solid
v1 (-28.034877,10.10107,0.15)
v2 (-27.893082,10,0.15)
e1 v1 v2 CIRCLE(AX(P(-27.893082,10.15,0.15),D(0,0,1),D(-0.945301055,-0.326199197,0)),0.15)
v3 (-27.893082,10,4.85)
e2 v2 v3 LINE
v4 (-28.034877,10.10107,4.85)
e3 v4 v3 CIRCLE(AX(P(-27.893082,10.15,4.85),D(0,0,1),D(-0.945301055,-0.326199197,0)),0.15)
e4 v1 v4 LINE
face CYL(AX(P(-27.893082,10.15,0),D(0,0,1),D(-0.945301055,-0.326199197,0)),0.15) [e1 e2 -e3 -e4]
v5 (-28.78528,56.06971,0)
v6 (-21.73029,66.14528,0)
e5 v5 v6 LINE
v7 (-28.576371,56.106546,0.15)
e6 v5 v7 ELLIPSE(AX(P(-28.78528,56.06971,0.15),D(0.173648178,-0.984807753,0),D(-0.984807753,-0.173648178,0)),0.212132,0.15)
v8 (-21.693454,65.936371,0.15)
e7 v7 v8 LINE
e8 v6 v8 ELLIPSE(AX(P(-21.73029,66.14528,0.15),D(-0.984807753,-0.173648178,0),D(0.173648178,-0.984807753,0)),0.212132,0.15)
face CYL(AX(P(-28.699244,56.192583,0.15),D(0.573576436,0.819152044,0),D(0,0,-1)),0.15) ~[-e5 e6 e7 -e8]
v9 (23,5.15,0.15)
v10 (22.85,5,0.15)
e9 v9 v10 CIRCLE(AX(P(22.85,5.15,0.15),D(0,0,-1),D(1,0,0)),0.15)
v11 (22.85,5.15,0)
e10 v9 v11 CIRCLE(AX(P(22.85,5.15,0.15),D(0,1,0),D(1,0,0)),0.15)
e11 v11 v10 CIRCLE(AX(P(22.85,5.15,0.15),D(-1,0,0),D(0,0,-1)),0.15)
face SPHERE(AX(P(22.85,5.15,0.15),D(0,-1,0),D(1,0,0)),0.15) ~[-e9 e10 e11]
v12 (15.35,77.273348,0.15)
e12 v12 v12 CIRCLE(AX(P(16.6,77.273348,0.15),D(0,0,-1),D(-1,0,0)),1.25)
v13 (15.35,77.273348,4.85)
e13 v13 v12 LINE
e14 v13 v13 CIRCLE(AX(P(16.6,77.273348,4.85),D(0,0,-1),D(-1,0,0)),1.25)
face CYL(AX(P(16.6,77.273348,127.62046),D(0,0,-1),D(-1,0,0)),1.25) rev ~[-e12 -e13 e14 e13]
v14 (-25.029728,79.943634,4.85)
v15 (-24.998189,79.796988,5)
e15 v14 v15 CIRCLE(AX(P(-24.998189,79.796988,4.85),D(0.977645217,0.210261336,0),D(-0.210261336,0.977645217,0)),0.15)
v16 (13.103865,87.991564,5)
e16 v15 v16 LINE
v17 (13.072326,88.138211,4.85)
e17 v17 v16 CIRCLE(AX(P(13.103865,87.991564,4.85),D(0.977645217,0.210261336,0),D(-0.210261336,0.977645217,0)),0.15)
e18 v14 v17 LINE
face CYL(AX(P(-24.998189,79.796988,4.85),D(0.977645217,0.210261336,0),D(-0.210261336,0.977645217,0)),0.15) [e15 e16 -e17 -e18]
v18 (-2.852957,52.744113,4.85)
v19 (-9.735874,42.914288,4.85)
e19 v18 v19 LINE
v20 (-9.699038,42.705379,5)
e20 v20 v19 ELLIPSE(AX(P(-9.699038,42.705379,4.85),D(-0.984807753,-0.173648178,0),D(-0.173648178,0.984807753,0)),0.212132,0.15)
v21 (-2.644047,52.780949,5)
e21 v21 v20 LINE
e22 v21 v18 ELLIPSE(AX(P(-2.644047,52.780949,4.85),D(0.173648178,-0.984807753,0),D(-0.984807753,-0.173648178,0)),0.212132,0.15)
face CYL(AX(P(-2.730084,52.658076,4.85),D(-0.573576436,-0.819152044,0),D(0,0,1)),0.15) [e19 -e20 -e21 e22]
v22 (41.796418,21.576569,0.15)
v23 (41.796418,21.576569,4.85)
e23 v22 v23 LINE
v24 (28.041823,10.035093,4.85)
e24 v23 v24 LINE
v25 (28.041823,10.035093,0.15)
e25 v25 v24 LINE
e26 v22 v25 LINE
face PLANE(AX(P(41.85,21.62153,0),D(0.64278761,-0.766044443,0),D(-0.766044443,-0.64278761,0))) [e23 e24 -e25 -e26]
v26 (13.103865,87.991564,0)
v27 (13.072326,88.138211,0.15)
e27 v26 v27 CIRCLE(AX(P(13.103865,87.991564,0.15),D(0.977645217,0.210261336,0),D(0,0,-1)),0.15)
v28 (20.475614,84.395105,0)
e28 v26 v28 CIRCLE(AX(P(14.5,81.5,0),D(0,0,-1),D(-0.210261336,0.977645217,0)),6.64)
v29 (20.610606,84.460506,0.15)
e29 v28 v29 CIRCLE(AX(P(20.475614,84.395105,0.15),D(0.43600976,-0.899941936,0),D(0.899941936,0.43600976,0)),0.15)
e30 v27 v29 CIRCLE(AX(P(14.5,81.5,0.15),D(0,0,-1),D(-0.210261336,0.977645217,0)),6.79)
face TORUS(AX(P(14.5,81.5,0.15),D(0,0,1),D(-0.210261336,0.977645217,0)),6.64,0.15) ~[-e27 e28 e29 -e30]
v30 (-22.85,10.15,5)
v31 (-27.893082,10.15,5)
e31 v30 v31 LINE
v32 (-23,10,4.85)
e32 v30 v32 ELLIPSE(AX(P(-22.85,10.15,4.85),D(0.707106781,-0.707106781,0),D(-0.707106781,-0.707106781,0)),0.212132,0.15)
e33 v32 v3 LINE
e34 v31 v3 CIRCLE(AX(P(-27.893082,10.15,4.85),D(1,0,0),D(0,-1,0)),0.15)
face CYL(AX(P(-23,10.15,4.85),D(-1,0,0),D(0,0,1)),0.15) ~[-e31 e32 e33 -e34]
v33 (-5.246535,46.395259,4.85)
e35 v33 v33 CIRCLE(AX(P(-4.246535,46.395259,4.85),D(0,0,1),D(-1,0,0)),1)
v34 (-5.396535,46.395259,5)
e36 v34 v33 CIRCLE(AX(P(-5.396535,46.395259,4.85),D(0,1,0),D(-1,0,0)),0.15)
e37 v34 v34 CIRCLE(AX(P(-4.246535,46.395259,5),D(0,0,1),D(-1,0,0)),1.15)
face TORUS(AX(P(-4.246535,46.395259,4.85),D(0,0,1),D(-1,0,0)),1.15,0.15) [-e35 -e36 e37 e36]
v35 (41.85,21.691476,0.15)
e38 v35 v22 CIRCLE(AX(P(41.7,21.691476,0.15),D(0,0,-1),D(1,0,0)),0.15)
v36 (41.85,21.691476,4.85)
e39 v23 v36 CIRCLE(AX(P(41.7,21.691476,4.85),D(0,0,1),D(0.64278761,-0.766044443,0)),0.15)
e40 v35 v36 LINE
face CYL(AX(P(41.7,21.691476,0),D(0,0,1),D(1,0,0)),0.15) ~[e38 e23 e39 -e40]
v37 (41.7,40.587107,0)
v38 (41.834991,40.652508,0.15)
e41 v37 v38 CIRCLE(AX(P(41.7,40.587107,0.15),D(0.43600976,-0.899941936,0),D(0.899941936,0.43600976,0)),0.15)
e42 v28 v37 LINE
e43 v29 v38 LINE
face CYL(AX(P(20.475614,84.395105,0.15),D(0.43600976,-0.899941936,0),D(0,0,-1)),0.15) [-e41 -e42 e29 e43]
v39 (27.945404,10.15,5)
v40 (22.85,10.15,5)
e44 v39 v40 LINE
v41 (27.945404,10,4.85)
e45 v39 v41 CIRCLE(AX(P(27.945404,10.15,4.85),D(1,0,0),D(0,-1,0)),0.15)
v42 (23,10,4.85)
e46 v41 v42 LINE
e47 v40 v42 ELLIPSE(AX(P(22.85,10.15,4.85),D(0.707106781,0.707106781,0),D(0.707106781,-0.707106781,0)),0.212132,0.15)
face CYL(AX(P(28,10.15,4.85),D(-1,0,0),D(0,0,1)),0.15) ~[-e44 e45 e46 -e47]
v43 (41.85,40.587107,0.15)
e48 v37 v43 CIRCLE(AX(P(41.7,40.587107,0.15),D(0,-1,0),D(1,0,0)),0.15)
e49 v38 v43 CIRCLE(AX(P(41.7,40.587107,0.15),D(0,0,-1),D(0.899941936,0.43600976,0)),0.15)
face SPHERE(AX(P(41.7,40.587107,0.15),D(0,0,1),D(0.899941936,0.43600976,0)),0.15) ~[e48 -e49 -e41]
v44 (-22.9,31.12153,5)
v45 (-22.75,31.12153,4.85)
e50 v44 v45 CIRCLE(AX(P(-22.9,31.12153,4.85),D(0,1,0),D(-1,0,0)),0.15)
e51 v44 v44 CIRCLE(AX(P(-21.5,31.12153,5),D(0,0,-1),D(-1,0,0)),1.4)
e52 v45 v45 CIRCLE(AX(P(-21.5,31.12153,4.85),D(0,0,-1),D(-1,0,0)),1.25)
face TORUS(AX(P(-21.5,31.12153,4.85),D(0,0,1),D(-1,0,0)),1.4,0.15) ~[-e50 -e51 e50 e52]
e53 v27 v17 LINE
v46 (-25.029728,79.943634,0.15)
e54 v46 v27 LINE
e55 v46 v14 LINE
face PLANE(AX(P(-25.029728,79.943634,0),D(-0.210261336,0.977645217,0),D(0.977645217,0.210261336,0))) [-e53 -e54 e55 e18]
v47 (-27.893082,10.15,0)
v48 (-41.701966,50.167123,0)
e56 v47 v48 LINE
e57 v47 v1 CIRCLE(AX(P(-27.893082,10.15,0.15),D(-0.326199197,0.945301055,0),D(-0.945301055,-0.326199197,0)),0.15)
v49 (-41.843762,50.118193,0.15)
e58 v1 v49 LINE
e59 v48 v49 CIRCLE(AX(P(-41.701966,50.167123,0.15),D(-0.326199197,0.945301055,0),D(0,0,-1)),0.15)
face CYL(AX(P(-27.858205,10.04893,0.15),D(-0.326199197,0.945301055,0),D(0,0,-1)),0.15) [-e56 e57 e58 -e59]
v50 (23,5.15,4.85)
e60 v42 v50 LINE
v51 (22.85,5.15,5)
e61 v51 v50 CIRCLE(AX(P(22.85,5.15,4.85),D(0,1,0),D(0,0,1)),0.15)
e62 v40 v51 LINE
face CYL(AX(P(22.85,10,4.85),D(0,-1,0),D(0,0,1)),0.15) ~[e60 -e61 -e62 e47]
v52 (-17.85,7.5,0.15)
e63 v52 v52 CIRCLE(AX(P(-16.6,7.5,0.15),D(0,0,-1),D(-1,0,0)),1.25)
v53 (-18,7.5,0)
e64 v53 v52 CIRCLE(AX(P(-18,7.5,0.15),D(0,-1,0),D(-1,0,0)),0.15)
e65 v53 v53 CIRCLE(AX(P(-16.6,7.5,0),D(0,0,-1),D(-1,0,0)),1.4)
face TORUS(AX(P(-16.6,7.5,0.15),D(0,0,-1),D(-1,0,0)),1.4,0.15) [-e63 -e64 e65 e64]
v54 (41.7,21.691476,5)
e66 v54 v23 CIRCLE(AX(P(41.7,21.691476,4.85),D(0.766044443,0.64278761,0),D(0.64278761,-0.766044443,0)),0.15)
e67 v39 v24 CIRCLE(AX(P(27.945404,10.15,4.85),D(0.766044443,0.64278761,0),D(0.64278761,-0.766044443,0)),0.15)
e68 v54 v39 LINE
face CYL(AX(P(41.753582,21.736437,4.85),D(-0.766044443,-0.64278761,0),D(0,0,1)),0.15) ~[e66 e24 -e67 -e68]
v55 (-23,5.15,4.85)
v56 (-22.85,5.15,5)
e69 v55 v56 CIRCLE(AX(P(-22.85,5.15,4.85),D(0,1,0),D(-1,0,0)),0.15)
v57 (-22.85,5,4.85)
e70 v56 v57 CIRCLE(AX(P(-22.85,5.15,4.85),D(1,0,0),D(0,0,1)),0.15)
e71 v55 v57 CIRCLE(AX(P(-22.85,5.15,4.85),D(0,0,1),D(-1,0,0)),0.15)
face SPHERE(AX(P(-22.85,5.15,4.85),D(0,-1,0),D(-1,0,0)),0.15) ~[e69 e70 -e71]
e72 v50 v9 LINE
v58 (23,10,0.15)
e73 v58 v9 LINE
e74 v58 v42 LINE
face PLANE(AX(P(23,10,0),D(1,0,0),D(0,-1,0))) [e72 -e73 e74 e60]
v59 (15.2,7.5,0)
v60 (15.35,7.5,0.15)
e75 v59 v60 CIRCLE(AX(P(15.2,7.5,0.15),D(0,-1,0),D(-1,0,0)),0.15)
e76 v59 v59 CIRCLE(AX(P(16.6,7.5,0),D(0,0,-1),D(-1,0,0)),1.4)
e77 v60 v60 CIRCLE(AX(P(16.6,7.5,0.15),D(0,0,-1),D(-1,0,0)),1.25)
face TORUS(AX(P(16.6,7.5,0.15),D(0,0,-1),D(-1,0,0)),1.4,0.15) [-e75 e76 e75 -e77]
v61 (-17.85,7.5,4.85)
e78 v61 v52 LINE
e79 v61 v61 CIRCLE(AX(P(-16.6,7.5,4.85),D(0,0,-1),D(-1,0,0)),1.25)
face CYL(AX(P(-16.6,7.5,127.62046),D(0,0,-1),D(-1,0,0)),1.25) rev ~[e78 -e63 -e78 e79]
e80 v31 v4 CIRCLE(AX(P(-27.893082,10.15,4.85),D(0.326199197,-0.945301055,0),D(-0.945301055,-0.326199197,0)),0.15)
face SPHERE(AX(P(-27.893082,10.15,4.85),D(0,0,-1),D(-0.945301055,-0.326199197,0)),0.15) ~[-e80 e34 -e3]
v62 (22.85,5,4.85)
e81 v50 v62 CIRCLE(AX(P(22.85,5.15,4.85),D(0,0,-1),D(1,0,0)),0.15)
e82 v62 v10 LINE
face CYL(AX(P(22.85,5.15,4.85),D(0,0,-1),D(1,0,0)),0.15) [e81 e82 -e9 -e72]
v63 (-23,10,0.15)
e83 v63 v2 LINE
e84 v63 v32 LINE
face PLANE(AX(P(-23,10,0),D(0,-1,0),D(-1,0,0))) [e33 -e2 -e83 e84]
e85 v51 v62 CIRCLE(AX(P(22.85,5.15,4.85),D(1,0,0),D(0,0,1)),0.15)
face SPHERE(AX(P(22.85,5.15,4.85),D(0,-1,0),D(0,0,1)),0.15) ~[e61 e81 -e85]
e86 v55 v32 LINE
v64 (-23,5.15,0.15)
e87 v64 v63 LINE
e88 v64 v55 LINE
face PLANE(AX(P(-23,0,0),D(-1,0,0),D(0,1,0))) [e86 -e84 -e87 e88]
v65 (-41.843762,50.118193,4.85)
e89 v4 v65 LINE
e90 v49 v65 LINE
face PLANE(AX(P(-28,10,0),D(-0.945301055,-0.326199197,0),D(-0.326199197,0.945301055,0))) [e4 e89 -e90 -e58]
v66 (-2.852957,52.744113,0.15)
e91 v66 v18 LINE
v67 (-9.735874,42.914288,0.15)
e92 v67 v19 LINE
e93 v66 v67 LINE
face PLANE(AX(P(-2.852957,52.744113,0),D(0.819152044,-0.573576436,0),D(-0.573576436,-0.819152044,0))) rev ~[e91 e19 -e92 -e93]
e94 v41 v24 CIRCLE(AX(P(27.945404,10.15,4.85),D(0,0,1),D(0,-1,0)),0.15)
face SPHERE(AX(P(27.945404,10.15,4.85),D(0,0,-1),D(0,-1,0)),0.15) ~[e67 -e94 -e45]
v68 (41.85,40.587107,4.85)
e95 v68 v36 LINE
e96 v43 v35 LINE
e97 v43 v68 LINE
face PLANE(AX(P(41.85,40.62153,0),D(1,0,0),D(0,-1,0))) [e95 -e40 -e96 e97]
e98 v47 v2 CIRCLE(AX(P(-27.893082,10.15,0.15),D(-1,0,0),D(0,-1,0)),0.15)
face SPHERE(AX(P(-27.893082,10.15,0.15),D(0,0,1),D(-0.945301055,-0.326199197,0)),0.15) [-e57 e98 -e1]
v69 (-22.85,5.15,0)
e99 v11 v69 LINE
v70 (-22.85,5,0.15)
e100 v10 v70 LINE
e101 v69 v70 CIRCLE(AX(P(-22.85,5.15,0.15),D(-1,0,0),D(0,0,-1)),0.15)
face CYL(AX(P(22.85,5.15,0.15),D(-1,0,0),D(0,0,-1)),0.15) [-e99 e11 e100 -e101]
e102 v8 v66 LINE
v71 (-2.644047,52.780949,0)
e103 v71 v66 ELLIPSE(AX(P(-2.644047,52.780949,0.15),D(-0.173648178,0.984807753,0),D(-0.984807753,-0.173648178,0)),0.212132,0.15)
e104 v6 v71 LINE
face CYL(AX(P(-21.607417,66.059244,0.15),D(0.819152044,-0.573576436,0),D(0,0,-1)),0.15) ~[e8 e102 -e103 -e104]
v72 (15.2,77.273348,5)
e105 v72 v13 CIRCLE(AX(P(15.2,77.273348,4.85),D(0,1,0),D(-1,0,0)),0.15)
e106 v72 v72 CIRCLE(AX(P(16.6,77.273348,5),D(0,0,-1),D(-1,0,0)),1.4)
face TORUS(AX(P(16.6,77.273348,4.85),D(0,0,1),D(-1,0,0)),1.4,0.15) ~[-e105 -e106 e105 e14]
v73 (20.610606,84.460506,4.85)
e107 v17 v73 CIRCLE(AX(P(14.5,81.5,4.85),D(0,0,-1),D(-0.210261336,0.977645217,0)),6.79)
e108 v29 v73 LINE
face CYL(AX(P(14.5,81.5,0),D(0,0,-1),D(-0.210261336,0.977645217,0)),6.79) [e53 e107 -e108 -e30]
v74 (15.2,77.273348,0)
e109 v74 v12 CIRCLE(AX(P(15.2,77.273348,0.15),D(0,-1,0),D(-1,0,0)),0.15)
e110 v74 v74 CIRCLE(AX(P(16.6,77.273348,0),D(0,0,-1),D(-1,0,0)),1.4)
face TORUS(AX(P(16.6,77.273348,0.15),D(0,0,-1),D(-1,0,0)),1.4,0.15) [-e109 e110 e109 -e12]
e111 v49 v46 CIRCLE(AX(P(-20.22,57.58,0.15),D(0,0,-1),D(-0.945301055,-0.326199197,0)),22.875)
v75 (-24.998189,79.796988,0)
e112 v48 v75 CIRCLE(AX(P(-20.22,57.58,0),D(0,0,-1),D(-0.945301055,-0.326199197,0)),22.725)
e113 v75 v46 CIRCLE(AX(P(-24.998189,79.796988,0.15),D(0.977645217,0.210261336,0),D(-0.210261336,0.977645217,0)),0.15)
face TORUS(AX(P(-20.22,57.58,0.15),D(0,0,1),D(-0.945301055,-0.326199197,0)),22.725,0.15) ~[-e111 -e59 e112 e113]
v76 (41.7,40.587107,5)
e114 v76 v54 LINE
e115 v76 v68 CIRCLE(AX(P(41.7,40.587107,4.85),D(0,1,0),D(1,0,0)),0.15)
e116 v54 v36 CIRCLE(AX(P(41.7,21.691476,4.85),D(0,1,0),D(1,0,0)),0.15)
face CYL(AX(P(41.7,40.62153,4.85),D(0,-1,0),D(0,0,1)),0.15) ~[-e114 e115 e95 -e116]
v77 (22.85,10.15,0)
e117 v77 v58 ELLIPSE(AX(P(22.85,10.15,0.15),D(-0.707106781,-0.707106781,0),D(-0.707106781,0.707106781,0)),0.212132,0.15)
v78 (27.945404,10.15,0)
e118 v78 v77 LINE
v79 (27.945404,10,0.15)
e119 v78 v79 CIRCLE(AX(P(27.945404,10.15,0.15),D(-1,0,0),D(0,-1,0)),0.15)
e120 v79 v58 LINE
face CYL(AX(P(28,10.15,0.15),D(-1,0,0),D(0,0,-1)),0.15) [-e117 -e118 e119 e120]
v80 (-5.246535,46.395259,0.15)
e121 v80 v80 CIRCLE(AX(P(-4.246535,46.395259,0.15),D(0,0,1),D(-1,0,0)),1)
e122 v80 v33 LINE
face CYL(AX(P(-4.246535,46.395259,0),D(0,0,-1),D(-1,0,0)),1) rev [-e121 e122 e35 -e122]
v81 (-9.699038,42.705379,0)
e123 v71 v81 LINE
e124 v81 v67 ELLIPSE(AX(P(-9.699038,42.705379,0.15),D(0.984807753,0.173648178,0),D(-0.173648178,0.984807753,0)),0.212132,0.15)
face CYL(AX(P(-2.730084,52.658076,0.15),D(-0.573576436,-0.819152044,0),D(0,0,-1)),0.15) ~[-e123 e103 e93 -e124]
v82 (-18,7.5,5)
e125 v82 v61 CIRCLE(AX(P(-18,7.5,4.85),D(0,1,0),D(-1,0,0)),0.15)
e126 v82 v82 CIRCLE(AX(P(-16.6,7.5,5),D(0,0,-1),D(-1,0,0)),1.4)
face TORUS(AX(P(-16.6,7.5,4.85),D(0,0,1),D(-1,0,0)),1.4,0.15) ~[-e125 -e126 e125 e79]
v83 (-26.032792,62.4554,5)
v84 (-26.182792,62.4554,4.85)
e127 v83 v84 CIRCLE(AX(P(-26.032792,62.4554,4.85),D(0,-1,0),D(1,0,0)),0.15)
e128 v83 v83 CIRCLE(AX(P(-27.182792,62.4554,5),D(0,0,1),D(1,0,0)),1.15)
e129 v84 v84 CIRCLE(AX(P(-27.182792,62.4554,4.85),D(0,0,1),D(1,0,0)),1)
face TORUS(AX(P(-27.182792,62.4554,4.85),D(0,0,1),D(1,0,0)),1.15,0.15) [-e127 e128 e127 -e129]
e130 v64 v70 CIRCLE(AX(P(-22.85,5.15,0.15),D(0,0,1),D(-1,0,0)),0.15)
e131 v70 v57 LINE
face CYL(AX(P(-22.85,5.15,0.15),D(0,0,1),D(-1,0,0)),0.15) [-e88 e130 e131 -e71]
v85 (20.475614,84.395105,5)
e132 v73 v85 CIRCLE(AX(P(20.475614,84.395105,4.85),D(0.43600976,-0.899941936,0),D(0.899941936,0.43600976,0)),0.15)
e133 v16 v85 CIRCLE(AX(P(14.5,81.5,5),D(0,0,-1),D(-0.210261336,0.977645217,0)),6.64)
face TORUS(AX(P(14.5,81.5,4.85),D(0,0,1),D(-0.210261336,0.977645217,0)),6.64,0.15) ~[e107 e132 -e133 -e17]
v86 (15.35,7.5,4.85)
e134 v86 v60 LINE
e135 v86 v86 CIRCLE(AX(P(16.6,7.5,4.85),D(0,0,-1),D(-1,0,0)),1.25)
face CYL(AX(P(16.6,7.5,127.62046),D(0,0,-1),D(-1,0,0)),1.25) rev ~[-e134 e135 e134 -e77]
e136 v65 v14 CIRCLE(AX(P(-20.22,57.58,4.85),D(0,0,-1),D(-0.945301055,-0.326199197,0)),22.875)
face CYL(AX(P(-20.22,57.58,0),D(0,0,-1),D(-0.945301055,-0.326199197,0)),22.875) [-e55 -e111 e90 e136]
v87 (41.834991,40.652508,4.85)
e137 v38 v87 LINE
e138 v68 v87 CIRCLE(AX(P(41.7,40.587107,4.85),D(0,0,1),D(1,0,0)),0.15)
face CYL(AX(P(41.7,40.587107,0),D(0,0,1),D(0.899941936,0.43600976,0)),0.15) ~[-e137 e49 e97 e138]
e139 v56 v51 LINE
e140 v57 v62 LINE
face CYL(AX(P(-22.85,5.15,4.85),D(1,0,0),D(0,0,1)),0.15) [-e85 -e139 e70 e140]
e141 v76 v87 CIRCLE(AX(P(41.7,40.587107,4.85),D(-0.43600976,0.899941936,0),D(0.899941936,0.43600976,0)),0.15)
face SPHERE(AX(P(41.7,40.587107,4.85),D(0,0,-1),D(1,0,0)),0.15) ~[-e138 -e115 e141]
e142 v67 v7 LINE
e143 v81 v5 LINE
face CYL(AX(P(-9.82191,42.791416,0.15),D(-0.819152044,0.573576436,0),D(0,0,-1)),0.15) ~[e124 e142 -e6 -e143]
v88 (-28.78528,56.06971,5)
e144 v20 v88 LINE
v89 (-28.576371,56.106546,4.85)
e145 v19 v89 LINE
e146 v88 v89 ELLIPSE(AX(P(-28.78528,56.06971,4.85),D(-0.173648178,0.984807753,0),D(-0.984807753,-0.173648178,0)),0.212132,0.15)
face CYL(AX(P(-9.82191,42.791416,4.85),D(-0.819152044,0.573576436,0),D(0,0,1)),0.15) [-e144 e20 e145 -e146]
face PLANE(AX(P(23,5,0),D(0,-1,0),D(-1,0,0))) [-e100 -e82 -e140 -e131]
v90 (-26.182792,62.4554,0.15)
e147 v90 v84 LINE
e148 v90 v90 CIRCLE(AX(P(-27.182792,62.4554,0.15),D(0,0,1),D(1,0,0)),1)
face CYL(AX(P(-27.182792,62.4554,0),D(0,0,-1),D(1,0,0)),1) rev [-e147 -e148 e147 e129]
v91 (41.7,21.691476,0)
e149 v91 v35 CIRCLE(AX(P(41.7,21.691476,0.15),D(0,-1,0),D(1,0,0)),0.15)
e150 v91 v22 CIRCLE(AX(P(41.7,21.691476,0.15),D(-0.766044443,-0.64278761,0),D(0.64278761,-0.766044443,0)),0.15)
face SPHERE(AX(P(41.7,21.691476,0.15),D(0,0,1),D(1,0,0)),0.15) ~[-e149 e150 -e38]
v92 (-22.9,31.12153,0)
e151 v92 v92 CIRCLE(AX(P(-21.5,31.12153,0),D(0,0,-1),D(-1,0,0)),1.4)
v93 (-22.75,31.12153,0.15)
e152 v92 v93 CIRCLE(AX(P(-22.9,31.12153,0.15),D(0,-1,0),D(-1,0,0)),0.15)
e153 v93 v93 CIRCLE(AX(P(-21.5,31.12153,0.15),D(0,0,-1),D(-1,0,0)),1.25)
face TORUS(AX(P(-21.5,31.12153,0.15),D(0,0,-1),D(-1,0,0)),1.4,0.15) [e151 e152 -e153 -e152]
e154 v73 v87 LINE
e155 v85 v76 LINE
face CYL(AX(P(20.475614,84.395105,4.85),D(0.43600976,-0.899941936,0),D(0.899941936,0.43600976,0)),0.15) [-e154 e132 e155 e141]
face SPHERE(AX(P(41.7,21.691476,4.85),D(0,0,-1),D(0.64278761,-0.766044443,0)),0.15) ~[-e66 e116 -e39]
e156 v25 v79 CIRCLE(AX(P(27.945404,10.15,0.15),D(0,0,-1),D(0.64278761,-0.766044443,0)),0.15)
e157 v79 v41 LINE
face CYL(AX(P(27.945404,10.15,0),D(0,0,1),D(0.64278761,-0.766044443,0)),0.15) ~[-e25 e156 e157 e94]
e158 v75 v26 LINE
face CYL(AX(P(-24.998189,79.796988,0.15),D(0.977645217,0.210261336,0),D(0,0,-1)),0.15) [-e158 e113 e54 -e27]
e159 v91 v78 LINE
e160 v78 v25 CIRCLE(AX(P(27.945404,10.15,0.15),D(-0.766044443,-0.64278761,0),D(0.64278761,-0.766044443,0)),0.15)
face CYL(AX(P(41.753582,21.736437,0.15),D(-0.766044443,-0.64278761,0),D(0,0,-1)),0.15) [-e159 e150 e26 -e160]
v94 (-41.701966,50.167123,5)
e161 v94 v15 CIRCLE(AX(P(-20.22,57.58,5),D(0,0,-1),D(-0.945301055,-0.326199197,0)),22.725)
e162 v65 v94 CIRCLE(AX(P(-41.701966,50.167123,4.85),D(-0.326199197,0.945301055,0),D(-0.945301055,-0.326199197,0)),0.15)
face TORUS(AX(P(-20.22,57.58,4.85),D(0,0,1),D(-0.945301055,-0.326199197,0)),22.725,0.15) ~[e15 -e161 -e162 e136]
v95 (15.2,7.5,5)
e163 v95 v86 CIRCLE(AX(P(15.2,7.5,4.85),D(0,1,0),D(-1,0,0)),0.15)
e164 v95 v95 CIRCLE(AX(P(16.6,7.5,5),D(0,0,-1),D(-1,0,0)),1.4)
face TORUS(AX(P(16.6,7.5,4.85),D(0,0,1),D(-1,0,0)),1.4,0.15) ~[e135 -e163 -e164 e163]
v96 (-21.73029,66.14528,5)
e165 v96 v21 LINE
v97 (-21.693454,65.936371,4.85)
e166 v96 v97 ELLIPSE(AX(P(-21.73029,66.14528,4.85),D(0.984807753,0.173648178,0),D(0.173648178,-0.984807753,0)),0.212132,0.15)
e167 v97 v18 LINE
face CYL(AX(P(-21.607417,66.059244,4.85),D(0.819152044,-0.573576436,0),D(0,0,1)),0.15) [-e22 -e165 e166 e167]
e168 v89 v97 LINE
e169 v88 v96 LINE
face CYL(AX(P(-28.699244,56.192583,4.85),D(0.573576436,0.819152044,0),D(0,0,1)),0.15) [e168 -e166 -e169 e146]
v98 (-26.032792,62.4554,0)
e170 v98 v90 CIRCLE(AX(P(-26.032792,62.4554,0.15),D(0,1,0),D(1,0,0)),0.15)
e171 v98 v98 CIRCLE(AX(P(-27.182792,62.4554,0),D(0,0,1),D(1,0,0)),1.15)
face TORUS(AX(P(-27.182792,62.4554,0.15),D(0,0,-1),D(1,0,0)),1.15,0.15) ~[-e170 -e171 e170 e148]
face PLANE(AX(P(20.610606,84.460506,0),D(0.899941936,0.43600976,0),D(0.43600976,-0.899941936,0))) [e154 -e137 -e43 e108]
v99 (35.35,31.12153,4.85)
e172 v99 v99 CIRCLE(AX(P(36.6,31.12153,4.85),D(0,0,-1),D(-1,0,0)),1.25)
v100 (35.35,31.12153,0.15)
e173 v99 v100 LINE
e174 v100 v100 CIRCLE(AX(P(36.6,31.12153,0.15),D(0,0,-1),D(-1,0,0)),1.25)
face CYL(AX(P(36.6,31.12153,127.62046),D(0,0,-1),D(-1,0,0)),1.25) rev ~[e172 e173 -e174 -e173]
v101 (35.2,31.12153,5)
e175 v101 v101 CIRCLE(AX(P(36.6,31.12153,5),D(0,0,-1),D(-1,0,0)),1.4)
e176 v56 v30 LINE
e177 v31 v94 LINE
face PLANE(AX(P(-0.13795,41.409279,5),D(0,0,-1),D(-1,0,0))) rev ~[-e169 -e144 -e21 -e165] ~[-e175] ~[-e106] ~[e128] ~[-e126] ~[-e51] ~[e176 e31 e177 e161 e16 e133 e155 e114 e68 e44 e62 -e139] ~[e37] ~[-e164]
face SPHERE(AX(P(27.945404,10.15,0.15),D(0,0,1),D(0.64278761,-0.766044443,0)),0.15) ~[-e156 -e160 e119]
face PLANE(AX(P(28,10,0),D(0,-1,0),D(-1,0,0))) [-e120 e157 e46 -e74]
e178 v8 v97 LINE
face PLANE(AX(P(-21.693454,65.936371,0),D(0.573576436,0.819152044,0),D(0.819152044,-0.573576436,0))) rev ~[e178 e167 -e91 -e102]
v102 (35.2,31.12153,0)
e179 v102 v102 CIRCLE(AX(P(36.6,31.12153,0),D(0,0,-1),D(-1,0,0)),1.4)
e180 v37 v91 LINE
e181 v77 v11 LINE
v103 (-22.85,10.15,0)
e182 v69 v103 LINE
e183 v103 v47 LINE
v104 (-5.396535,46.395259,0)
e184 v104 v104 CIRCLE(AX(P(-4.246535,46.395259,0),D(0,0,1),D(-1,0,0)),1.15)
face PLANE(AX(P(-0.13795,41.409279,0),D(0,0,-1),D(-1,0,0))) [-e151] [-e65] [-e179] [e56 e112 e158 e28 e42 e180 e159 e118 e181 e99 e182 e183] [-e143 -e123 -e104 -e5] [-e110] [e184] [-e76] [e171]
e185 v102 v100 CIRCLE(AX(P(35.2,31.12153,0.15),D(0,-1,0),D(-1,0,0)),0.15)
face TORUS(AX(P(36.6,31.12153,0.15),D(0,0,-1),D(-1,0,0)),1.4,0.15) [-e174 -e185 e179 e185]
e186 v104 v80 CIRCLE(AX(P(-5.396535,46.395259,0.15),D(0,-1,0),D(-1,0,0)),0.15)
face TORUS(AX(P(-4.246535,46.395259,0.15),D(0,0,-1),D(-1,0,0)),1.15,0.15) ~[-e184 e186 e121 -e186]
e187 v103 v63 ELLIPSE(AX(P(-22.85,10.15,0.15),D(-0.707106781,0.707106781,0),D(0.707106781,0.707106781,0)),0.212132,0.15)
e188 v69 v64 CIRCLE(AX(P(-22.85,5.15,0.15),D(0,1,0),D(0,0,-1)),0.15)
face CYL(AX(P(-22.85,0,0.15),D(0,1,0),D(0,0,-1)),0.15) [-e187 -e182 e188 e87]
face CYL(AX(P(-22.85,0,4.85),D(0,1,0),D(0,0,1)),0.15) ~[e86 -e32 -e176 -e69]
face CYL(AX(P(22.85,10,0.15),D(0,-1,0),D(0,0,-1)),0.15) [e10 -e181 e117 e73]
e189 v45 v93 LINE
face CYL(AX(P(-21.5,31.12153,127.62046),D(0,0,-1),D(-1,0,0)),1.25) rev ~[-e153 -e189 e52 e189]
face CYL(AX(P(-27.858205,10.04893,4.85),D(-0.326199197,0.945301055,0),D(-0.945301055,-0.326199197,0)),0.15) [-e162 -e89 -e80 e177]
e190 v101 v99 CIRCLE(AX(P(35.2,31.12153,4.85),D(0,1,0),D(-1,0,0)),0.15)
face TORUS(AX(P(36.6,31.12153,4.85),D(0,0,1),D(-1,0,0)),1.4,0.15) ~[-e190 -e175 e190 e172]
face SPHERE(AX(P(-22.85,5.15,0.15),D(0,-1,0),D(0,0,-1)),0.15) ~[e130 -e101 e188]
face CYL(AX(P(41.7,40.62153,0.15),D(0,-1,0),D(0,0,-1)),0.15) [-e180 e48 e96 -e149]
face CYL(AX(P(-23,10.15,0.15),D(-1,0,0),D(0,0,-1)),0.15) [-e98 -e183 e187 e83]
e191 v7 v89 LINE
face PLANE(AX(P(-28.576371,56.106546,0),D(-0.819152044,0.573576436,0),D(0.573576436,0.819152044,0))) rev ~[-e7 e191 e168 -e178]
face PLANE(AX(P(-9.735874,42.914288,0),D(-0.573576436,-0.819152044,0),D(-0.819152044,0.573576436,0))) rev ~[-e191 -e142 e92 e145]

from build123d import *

# Parameters (mm, degrees)
SKETCH_1_R          = 1
EXTRUDE_1_DEPTH     = 5
HOLE_WIZARD_M3_1_D  = 2.5
FILLET_1_R          = 0.15
SKETCH_4_W          = 46
SKETCH_4_H          = 5
CUT_EXTRUDE_1_DEPTH = 99.373284654
FILLET_2_R          = 0.15


with BuildPart() as part:
    # 草图1 → 凸台-拉伸1 (new body)
    with BuildSketch(Plane.XY):
        with BuildLine():
            Line((-25.029728066, 79.943634341), (13.072325527, 88.138211024))
            ThreePointArc((13.072325527, 88.138211024), (17.477220077, 87.602479874), (20.610605748, 84.460506273))
            Line((20.610605748, 84.460506273), (41.85, 40.621529892))
            Line((41.85, 40.621529892), (41.85, 21.621529892))
            Line((41.85, 21.621529892), (28, 10))
            Line((28, 10), (23, 10))
            Line((23, 10), (23, 0))
            Line((23, 0), (-23, 0))
            Line((-23, 0), (-23, 10))
            Line((-23, 10), (-28, 10))
            Line((-28, 10), (-41.843761624, 50.118193368))
            ThreePointArc((-41.843761624, 50.118193368), (-40.146654928, 68.813612437), (-25.029728066, 79.943634341))
        make_face()
        with Locations((-27.182792376, 62.455399709)):
            Circle(SKETCH_1_R, mode=Mode.SUBTRACT)
        with Locations(Location((-4.246535136, 46.395259491, 0), (0, 0, 180))):
            Circle(SKETCH_1_R, mode=Mode.SUBTRACT)
        Polygon((-28.576370884, 56.106546352), (-21.693453648, 65.936370884), (-2.852956629, 52.744112848), (-9.735873865, 42.914288316), align=None, mode=Mode.SUBTRACT)
    extrude(amount=EXTRUDE_1_DEPTH)

    # M3 螺纹孔的螺纹孔钻头1 (through all)
    with Locations(Plane.XY.offset(5)):
        with Locations((16.6, 77.2733483), (36.6, 31.121529892), (16.6, 7.5), (-16.6, 7.5), (-21.5, 31.121529892)):
            Hole(HOLE_WIZARD_M3_1_D / 2)

    # 圆角1
    fillet_1_edges = [part.edges().sort_by_distance(p)[0] for p in [
        (31.230302874, 62.541018083, 0),
        (41.85, 31.121529892, 0),
        (-40.146654928, 68.813612437, 5),
        (34.925, 15.810764946, 0),
        (25.5, 10, 0),
        (23, 5, 0),
        (0, 0, 0),
        (-23, 5, 0),
        (-25.5, 10, 0),
        (-34.921880812, 30.059096684, 0),
        (-40.146654928, 68.813612437, 0),
        (-5.978701269, 84.040922682, 0),
        (17.477220077, 87.602479874, 0),
        (-34.921880812, 30.059096684, 5),
        (41.85, 40.621529892, 2.5),
        (41.85, 21.621529892, 2.5),
        (-25.5, 10, 5),
        (28, 10, 2.5),
        (23, 0, 2.5),
        (-23, 0, 2.5),
        (-28, 10, 2.5),
        (-23, 5, 5),
        (0, 0, 5),
        (23, 5, 5),
        (-19.156122375, 49.510417334, 0),
        (-6.294415247, 47.829200582, 0),
        (-12.273205138, 59.340241866, 0),
        (-25.134912266, 61.021458618, 0),
        (-19.156122375, 49.510417334, 5),
        (-6.294415247, 47.829200582, 5),
        (-12.273205138, 59.340241866, 5),
        (-25.134912266, 61.021458618, 5),
        (25.5, 10, 5),
        (34.925, 15.810764946, 5),
        (-28.182792376, 62.455399709, 0),
        (-28.182792376, 62.455399709, 5),
        (41.85, 31.121529892, 5),
        (-3.246535136, 46.395259491, 0),
        (-3.246535136, 46.395259491, 5),
        (31.230302874, 62.541018083, 5),
        (17.477220077, 87.602479874, 5),
        (-20.25, 31.121529892, 5),
        (-20.25, 31.121529892, 0),
        (-15.35, 7.5, 5),
        (-15.35, 7.5, 0),
        (17.85, 7.5, 5),
        (17.85, 7.5, 0),
        (37.85, 31.121529892, 5),
        (37.85, 31.121529892, 0),
        (17.85, 77.2733483, 5),
        (17.85, 77.2733483, 0),
        (-5.978701269, 84.040922682, 5),
    ]]
    fillet(fillet_1_edges, radius=FILLET_1_R)

    # 草图4 → 切除-拉伸1 (cut, through all)
    with BuildSketch(Plane(origin=(0, 0, 0), x_dir=(-1, 0, 0), z_dir=(0, 0, -1))):
        with Locations((0, 2.5)):
            Rectangle(SKETCH_4_W, SKETCH_4_H)
    extrude(amount=-CUT_EXTRUDE_1_DEPTH, mode=Mode.SUBTRACT)

    # 圆角2
    fillet_2_edges = [part.edges().sort_by_distance(p)[0] for p in [
        (-22.956066017, 5, 0.043933983),
        (22.956066017, 5, 4.956066017),
        (22.956066017, 5, 0.043933983),
        (-22.956066017, 5, 4.956066017),
        (23, 5, 2.5),
        (0, 5, 5),
        (-23, 5, 2.5),
        (0, 5, 0),
    ]]
    fillet(fillet_2_edges, radius=FILLET_2_R)


solid = part.part
